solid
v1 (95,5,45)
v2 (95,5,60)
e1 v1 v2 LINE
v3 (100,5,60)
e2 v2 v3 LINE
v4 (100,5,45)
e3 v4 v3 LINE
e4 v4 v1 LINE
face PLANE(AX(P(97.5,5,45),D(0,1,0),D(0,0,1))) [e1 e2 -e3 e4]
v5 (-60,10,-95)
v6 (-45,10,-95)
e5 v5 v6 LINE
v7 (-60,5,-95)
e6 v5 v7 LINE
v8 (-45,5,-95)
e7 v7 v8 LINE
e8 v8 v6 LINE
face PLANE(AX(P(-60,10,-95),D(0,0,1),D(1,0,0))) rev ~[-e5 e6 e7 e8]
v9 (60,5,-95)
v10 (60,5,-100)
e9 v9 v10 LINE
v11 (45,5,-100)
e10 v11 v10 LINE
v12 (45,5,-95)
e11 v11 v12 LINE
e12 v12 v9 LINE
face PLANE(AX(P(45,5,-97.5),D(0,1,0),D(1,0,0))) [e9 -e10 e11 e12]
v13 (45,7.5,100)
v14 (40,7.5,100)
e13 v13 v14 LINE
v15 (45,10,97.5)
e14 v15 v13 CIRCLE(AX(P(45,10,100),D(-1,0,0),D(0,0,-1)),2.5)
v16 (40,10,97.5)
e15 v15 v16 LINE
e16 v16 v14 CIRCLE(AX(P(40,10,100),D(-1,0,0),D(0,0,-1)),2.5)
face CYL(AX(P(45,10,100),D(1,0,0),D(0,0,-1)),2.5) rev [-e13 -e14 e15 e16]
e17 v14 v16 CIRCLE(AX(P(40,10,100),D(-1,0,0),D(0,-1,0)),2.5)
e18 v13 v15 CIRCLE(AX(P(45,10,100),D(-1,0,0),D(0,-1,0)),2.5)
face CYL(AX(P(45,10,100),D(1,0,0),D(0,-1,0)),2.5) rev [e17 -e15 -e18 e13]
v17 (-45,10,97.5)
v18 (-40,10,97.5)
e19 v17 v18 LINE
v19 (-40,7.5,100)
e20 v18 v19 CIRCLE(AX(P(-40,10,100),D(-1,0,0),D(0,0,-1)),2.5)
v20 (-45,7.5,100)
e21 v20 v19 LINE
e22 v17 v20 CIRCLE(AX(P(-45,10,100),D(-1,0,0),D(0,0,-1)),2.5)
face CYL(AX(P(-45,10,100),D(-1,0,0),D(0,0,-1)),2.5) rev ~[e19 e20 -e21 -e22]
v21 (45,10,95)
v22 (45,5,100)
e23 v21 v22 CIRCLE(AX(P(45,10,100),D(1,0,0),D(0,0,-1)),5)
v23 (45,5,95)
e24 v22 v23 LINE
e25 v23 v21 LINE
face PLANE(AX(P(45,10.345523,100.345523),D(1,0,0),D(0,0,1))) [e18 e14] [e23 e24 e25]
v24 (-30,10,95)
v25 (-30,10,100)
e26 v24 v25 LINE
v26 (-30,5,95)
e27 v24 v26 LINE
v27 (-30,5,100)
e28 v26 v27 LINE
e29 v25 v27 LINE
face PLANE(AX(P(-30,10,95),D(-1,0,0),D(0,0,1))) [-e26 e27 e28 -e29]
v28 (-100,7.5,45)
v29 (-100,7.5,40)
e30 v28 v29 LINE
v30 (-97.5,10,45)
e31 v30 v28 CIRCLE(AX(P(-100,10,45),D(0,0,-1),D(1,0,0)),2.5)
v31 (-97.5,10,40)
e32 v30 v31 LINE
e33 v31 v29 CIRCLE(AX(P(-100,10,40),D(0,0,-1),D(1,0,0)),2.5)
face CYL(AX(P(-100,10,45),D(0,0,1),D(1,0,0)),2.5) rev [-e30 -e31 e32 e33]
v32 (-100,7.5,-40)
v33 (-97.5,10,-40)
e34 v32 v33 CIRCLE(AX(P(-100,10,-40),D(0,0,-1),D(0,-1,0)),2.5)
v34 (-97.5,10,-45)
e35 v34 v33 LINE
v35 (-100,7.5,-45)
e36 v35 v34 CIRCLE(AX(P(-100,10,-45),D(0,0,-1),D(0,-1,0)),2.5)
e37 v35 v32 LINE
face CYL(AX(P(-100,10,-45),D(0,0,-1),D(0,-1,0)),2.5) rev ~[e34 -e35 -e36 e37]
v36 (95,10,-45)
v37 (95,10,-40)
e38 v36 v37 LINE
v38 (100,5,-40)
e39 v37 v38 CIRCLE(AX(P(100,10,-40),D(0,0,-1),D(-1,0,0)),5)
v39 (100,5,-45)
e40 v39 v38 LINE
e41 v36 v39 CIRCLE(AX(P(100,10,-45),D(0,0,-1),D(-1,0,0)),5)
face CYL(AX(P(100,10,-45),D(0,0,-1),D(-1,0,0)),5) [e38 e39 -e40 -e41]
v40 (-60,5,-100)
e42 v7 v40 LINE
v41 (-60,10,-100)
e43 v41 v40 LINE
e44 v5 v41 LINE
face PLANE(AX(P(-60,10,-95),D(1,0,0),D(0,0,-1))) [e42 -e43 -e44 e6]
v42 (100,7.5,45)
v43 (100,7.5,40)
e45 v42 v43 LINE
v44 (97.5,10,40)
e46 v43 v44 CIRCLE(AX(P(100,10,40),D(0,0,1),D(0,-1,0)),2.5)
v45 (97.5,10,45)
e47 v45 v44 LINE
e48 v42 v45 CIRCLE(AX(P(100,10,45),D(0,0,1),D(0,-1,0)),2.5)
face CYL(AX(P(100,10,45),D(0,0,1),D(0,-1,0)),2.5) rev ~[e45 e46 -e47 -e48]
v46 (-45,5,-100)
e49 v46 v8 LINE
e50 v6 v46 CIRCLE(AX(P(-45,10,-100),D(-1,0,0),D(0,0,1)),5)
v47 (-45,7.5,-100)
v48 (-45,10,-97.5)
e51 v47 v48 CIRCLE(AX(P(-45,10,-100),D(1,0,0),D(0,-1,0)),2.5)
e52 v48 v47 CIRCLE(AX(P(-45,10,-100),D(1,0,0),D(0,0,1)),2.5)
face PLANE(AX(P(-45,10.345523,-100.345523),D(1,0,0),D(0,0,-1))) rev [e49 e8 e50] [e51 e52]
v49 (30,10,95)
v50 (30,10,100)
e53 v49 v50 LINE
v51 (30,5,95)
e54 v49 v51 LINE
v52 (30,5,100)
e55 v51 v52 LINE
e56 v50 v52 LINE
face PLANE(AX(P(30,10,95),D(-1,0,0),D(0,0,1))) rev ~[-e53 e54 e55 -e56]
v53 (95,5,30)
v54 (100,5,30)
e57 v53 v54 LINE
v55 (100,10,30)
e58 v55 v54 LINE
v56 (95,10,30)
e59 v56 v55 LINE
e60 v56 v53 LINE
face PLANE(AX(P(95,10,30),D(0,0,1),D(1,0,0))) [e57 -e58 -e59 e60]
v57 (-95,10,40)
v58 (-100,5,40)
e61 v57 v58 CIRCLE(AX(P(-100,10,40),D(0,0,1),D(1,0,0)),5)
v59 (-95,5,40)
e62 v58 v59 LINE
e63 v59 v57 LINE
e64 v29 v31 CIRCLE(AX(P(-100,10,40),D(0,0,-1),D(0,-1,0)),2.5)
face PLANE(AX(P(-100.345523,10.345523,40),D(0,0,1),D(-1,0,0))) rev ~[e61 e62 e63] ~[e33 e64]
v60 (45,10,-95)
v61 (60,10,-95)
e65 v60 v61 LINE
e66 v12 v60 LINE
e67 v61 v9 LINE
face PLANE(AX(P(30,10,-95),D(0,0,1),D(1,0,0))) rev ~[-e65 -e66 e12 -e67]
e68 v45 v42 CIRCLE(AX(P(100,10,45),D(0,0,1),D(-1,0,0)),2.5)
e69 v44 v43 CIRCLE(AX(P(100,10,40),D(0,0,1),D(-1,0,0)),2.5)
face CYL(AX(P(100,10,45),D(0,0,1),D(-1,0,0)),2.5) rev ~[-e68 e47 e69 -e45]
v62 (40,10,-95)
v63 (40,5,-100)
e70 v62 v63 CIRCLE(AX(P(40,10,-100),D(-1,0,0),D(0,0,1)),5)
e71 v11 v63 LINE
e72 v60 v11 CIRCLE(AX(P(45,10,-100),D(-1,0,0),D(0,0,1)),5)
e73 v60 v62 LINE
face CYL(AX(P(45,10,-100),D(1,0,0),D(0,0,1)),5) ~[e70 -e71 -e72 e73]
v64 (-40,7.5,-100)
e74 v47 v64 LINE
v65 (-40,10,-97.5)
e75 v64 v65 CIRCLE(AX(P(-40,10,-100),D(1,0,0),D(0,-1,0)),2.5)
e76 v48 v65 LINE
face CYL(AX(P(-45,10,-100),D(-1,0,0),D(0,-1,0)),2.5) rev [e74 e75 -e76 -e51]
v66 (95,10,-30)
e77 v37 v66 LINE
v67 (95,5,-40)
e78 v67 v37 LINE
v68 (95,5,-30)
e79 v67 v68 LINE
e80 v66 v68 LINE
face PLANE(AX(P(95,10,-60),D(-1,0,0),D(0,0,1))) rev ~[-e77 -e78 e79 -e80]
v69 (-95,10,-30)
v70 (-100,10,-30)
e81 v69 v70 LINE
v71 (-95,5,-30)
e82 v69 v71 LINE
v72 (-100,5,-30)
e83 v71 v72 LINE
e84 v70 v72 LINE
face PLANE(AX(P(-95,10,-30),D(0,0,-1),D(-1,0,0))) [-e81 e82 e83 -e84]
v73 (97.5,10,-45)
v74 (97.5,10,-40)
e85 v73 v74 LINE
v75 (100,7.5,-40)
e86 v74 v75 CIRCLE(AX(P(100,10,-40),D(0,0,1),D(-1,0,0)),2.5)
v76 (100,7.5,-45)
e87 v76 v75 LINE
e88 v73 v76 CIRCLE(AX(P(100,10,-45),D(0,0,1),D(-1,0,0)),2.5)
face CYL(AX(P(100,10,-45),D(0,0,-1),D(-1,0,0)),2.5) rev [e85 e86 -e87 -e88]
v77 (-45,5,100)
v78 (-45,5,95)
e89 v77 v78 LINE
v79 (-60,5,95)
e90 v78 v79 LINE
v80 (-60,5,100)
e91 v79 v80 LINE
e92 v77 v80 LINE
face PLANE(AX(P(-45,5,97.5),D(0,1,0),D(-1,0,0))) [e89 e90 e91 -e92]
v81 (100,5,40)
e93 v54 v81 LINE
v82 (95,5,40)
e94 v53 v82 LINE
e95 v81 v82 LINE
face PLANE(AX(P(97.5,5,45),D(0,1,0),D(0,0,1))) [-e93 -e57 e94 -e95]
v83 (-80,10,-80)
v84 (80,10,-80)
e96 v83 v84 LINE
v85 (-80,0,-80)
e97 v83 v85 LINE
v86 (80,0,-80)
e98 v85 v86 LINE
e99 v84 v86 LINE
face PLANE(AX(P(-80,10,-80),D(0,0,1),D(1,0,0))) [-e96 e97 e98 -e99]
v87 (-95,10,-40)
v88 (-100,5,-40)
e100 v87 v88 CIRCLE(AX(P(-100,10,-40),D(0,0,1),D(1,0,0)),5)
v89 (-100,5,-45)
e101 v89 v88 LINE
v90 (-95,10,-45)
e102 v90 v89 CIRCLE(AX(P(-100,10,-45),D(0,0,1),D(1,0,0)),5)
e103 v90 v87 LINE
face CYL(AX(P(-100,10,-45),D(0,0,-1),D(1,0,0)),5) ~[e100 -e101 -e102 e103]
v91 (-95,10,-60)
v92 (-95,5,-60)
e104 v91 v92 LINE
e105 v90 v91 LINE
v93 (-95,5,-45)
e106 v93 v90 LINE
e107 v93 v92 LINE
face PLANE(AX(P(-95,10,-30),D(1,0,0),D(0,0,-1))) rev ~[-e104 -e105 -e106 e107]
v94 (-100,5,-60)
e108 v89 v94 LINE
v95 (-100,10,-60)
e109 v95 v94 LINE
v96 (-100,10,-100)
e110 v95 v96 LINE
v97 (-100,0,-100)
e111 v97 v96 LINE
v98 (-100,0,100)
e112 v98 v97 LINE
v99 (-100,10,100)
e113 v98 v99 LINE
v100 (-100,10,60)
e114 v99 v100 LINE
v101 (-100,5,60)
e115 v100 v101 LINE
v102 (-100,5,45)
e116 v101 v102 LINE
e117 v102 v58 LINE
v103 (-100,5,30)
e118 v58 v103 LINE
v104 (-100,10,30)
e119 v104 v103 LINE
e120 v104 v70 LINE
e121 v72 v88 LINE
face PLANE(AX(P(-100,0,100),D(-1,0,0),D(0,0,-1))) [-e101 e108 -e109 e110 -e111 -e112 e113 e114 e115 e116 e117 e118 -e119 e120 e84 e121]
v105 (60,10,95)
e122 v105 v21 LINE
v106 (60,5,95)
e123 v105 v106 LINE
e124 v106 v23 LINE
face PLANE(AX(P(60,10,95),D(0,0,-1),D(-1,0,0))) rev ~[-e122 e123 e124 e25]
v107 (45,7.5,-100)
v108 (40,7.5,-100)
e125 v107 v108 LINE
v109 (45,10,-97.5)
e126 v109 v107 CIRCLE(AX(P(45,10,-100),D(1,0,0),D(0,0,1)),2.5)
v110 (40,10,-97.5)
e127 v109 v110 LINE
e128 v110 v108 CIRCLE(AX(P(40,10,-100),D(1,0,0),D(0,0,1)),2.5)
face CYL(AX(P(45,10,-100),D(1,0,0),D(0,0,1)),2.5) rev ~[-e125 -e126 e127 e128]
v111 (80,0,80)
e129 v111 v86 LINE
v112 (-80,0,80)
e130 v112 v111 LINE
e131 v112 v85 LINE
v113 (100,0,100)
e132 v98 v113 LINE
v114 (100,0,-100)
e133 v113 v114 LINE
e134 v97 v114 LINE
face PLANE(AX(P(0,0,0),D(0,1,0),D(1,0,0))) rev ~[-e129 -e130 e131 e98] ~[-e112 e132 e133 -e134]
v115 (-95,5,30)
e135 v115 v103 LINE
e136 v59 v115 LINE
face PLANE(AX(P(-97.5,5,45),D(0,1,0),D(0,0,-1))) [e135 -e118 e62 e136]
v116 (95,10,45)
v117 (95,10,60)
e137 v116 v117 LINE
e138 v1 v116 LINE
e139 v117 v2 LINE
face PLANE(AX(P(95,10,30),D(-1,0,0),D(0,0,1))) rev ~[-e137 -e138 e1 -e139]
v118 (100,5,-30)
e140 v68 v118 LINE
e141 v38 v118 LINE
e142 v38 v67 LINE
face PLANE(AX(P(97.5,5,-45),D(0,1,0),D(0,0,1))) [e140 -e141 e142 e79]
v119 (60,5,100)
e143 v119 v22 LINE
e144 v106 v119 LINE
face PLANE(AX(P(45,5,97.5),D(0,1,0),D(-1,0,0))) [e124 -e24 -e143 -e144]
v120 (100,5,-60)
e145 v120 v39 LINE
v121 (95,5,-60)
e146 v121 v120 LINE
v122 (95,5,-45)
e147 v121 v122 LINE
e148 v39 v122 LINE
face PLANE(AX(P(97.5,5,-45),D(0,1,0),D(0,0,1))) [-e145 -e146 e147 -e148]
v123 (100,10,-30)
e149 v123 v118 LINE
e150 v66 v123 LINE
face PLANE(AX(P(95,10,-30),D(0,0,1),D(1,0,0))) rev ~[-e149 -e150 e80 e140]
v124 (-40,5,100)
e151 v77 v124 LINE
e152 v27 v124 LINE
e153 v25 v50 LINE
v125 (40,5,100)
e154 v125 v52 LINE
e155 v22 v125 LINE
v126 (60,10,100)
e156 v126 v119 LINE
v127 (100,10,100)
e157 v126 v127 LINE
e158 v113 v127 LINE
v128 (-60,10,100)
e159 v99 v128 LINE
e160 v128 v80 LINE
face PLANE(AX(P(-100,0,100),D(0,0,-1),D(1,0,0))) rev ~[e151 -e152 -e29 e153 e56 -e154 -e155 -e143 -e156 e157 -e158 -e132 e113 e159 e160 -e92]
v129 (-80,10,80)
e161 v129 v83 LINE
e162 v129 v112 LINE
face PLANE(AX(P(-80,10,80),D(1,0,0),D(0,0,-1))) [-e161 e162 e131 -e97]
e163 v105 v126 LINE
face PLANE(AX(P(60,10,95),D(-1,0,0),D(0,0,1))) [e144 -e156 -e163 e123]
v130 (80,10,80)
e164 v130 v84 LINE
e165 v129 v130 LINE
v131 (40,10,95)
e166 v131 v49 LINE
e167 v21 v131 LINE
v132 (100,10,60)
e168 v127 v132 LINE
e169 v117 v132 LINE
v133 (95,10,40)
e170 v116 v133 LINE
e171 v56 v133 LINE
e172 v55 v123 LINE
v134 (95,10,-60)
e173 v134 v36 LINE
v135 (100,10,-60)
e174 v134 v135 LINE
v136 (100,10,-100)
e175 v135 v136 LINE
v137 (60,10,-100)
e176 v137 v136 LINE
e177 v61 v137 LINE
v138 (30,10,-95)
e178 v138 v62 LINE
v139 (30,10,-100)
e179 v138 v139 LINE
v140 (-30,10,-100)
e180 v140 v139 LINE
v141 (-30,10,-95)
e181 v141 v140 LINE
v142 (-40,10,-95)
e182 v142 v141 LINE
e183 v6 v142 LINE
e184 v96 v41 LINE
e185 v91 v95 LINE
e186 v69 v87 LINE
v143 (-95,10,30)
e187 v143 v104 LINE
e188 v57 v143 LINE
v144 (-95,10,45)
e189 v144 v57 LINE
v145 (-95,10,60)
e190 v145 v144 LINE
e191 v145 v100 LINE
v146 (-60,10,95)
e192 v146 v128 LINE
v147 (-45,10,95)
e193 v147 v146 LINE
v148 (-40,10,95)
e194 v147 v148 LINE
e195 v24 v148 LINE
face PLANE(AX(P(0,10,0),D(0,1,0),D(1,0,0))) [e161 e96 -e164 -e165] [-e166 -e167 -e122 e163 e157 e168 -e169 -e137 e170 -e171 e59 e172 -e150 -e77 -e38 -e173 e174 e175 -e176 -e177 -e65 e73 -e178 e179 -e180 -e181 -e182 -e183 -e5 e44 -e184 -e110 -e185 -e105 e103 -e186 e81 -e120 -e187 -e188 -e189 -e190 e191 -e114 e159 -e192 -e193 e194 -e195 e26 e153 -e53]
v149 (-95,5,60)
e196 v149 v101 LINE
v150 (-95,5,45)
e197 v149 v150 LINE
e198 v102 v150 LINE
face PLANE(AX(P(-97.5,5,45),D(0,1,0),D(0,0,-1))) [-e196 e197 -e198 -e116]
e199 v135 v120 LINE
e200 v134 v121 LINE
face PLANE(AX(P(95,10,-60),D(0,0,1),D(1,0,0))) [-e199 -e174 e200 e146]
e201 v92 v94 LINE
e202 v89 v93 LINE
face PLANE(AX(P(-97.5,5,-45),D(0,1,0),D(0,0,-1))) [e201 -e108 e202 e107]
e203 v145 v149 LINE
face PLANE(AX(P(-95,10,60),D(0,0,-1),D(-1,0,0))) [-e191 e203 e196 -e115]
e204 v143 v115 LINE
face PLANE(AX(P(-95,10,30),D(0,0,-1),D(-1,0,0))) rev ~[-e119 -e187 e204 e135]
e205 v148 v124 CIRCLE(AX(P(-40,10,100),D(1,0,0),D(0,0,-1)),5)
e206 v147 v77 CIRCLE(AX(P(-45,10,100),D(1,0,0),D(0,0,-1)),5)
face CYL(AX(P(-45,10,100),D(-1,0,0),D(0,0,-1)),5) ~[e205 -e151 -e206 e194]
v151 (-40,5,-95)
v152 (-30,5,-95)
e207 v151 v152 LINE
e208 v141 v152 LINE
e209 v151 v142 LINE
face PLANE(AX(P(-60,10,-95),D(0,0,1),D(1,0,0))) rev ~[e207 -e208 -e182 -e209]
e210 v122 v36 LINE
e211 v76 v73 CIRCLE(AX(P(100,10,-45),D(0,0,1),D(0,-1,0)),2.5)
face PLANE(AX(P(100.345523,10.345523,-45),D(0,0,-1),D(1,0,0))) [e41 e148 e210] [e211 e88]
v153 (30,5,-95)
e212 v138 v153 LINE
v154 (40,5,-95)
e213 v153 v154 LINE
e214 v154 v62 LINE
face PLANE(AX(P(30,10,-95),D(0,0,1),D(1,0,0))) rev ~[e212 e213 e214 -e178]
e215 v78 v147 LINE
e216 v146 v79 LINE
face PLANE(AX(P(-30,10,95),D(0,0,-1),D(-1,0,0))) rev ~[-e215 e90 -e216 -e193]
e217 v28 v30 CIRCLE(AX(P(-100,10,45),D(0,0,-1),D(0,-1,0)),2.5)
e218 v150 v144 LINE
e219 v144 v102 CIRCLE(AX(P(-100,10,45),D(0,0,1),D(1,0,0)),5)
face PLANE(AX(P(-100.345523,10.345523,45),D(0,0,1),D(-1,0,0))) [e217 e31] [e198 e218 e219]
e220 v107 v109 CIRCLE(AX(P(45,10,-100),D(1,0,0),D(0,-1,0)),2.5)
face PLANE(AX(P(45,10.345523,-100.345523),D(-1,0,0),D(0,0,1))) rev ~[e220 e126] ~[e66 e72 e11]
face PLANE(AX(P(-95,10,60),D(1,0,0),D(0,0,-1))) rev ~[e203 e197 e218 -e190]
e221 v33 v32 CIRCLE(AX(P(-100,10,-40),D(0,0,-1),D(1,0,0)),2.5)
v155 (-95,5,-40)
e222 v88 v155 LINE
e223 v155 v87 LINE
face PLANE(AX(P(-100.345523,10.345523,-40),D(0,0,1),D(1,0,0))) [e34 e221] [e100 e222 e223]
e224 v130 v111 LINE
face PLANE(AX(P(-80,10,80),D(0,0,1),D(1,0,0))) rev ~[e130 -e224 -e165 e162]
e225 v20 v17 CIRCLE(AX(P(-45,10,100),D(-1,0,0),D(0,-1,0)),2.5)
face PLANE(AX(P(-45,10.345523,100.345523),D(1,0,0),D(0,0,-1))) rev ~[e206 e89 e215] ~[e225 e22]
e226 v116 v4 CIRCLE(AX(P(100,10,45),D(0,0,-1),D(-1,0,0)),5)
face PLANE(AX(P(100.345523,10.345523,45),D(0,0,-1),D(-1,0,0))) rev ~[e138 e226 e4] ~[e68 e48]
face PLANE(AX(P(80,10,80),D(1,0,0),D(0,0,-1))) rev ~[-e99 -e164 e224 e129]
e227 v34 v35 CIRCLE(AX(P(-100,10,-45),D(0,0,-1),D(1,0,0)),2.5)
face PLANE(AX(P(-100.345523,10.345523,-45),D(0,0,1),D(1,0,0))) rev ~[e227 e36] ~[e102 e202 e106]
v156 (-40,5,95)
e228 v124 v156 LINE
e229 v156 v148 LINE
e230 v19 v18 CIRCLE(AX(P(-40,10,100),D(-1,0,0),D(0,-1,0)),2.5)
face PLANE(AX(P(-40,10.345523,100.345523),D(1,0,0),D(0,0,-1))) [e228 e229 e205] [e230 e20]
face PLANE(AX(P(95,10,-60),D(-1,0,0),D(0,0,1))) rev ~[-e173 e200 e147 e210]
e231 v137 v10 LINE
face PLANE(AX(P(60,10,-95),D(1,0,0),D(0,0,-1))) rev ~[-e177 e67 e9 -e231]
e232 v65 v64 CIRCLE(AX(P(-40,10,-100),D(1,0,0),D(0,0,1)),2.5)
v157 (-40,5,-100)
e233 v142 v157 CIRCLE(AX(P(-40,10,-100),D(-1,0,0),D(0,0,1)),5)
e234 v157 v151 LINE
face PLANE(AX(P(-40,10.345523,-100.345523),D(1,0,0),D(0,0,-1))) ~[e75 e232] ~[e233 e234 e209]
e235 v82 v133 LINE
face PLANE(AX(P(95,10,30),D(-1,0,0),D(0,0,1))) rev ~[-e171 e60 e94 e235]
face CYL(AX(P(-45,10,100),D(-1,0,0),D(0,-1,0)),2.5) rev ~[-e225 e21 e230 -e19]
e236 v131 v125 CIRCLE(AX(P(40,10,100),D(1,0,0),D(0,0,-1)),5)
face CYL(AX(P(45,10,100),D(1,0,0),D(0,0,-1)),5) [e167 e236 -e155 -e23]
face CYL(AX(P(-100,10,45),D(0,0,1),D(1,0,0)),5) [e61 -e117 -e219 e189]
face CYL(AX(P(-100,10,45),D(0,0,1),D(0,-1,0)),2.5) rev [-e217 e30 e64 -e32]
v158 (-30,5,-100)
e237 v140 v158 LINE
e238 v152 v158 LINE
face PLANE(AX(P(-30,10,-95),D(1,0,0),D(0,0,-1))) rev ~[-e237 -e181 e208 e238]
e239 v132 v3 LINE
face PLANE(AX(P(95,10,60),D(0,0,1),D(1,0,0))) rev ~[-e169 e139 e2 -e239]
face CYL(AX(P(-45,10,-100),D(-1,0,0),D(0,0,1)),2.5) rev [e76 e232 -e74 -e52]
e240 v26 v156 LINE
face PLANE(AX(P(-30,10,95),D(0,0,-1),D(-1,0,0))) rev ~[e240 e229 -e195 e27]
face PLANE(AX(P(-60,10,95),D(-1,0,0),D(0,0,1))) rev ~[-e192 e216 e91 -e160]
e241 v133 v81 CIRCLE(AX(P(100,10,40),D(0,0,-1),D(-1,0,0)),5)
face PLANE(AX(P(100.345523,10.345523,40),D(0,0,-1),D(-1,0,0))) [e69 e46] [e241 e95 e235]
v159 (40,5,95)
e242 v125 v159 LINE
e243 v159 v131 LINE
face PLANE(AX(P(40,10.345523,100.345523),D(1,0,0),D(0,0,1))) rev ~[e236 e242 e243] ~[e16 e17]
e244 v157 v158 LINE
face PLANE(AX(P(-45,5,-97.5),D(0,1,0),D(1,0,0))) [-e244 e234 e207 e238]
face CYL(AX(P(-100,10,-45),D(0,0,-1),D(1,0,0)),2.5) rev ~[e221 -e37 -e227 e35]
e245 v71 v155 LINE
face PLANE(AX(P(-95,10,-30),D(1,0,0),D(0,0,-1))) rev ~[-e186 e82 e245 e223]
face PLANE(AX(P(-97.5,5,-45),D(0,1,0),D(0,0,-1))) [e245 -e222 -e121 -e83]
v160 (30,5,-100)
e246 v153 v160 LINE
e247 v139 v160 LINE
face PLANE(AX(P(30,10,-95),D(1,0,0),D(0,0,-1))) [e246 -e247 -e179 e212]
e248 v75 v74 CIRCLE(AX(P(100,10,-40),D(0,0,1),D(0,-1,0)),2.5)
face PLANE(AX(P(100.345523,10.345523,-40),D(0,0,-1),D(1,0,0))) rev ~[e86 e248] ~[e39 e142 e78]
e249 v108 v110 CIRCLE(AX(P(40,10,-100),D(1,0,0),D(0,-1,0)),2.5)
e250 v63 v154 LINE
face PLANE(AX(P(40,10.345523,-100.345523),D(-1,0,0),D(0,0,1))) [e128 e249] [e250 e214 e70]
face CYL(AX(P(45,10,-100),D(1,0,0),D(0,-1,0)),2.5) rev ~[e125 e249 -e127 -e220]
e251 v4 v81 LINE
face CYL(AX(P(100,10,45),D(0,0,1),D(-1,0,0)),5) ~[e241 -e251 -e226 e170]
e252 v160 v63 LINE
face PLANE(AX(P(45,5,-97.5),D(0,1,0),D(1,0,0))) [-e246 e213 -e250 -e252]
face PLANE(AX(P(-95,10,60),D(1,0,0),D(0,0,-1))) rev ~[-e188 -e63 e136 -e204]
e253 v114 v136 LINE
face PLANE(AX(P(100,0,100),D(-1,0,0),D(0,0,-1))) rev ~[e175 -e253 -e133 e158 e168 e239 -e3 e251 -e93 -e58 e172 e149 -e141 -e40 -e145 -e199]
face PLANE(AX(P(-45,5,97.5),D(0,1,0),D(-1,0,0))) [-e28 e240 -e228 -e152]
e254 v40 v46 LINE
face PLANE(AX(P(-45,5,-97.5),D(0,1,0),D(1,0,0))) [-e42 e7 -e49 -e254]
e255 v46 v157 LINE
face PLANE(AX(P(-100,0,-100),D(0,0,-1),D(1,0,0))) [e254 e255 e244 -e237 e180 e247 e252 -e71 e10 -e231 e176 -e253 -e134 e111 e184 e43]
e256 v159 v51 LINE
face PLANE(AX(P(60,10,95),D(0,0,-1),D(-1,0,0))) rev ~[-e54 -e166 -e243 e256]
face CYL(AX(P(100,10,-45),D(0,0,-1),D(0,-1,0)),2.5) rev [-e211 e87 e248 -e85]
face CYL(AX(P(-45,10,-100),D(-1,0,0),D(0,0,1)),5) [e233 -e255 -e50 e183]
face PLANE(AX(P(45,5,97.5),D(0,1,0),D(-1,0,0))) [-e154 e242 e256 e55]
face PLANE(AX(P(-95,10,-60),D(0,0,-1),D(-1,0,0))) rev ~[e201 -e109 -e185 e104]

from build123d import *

# Parameters (mm, degrees)
SKETCH1_W                = 200
SKETCH1_H                = 200
SKETCH1_R                = 0.0005
BOSS_EXTRUDE1_DEPTH      = 10
SKETCH2_W                = 30
SKETCH2_H                = 5
CUT_EXTRUDE1_DEPTH       = 5
BOSS_EXTRUDE3_START      = 15
BOSS_EXTRUDE3_DEPTH      = 5
CIRPATTERN1_COUNT        = 4
CIRPATTERN1_START        = 15
CIRPATTERN1_COPY_1_DEPTH = 5
CIRPATTERN1_COPY_2_DEPTH = 5
CIRPATTERN1_COPY_3_DEPTH = 5
SKETCH4_W                = 160
SKETCH4_H                = 160
CUT_EXTRUDE2_DEPTH       = 10


with BuildPart() as part:
    # Sketch1 → Boss-Extrude1 (new body)
    with BuildSketch(Plane(origin=(0, 0, 0), x_dir=(1, 0, 0), z_dir=(0, 1, 0))):
        Rectangle(SKETCH1_W, SKETCH1_H)
        with Locations(Location((0, 0, 0), (0, 0, 270))):
            Circle(SKETCH1_R, mode=Mode.SUBTRACT)
    extrude(amount=BOSS_EXTRUDE1_DEPTH)

    # Sketch2 → Cut-Extrude1 (cut)
    with BuildSketch(Plane(origin=(0, 10, 0), x_dir=(1, 0, 0), z_dir=(0, 1, 0))):
        with Locations((45, 97.5)):
            Rectangle(SKETCH2_W, SKETCH2_H)
        with Locations((-45, 97.5)):
            Rectangle(SKETCH2_W, SKETCH2_H)
    cut_extrude1 = extrude(amount=-CUT_EXTRUDE1_DEPTH, mode=Mode.SUBTRACT)

    # Sketch3 → Boss-Extrude3 (add)
    with BuildSketch(Plane.ZY.offset(-60).offset(BOSS_EXTRUDE3_START)):
        with BuildLine():
            Line((-97.5, 10), (-95, 10))
            ThreePointArc((-95, 10), (-103.535533906, 13.535533906), (-100, 5))
            Line((-100, 5), (-100, 7.5))
            ThreePointArc((-100, 7.5), (-101.767766953, 11.767766953), (-97.5, 10))
        make_face()
        with BuildLine():
            ThreePointArc((-100, 5), (-96.464466094, 6.464466094), (-95, 10))
            Line((-95, 10), (-97.5, 10))
            ThreePointArc((-97.5, 10), (-98.232233047, 8.232233047), (-100, 7.5))
            Line((-100, 7.5), (-100, 5))
        make_face()
        with BuildLine():
            Line((-95, 5), (-95, 10))
            ThreePointArc((-95, 10), (-96.464466094, 6.464466094), (-100, 5))
            Line((-100, 5), (-95, 5))
        make_face()
    boss_extrude3 = extrude(amount=BOSS_EXTRUDE3_DEPTH)

    # Mirror1: Boss-Extrude3 across plane
    add(boss_extrude3.mirror(Plane(origin=(0, 0, 0), x_dir=(0, 0, 1), z_dir=(1, 0, 0))))

    # CirPattern1: Cut-Extrude1, Boss-Extrude3 ×4 about axis
    cirpattern1_axis = Axis((0, 0, 0), (0, 1, 0))
    add([cut_extrude1.rotate(cirpattern1_axis, i * 360 / CIRPATTERN1_COUNT) for i in range(1, CIRPATTERN1_COUNT)], mode=Mode.SUBTRACT)
    add([boss_extrude3.rotate(cirpattern1_axis, i * 360 / CIRPATTERN1_COUNT) for i in range(1, CIRPATTERN1_COUNT)])

    # CirPattern1 copy 1 sketch → CirPattern1 copy 1 (add)
    with BuildSketch(Plane(origin=(0, 0, 60), x_dir=(1, 0, 0), z_dir=(0, 0, -1)).offset(CIRPATTERN1_START)):
        with BuildLine():
            Line((-97.5, -10), (-95, -10))
            ThreePointArc((-95, -10), (-103.535533906, -13.535533906), (-100, -5))
            Line((-100, -5), (-100, -7.5))
            ThreePointArc((-100, -7.5), (-101.767766953, -11.767766953), (-97.5, -10))
        make_face()
        with BuildLine():
            ThreePointArc((-100, -5), (-96.464466094, -6.464466094), (-95, -10))
            Line((-95, -10), (-97.5, -10))
            ThreePointArc((-97.5, -10), (-98.232233047, -8.232233047), (-100, -7.5))
            Line((-100, -7.5), (-100, -5))
        make_face()
        with BuildLine():
            Line((-95, -5), (-95, -10))
            ThreePointArc((-95, -10), (-96.464466094, -6.464466094), (-100, -5))
            Line((-100, -5), (-95, -5))
        make_face()
    extrude(amount=CIRPATTERN1_COPY_1_DEPTH)

    # CirPattern1 copy 2 sketch → CirPattern1 copy 2 (add)
    with BuildSketch(Plane(origin=(60, 0, 0), x_dir=(0, 0, -1), z_dir=(-1, 0, 0)).offset(CIRPATTERN1_START)):
        with BuildLine():
            Line((-97.5, -10), (-95, -10))
            ThreePointArc((-95, -10), (-103.535533906, -13.535533906), (-100, -5))
            Line((-100, -5), (-100, -7.5))
            ThreePointArc((-100, -7.5), (-101.767766953, -11.767766953), (-97.5, -10))
        make_face()
        with BuildLine():
            ThreePointArc((-100, -5), (-96.464466094, -6.464466094), (-95, -10))
            Line((-95, -10), (-97.5, -10))
            ThreePointArc((-97.5, -10), (-98.232233047, -8.232233047), (-100, -7.5))
            Line((-100, -7.5), (-100, -5))
        make_face()
        with BuildLine():
            Line((-95, -5), (-95, -10))
            ThreePointArc((-95, -10), (-96.464466094, -6.464466094), (-100, -5))
            Line((-100, -5), (-95, -5))
        make_face()
    extrude(amount=CIRPATTERN1_COPY_2_DEPTH)

    # CirPattern1 copy 3 sketch → CirPattern1 copy 3 (add)
    with BuildSketch(Plane(origin=(0, 0, -60), x_dir=(-1, 0, 0), z_dir=(0, 0, 1)).offset(CIRPATTERN1_START)):
        with BuildLine():
            Line((-97.5, -10), (-95, -10))
            ThreePointArc((-95, -10), (-103.535533906, -13.535533906), (-100, -5))
            Line((-100, -5), (-100, -7.5))
            ThreePointArc((-100, -7.5), (-101.767766953, -11.767766953), (-97.5, -10))
        make_face()
        with BuildLine():
            ThreePointArc((-100, -5), (-96.464466094, -6.464466094), (-95, -10))
            Line((-95, -10), (-97.5, -10))
            ThreePointArc((-97.5, -10), (-98.232233047, -8.232233047), (-100, -7.5))
            Line((-100, -7.5), (-100, -5))
        make_face()
        with BuildLine():
            Line((-95, -5), (-95, -10))
            ThreePointArc((-95, -10), (-96.464466094, -6.464466094), (-100, -5))
            Line((-100, -5), (-95, -5))
        make_face()
    extrude(amount=CIRPATTERN1_COPY_3_DEPTH)

    # Sketch4 → Cut-Extrude2 (cut)
    with BuildSketch(Plane(origin=(0, 10, 0), x_dir=(1, 0, 0), z_dir=(0, 1, 0))):
        Rectangle(SKETCH4_W, SKETCH4_H)
    extrude(amount=-CUT_EXTRUDE2_DEPTH, mode=Mode.SUBTRACT)


solid = part.part
